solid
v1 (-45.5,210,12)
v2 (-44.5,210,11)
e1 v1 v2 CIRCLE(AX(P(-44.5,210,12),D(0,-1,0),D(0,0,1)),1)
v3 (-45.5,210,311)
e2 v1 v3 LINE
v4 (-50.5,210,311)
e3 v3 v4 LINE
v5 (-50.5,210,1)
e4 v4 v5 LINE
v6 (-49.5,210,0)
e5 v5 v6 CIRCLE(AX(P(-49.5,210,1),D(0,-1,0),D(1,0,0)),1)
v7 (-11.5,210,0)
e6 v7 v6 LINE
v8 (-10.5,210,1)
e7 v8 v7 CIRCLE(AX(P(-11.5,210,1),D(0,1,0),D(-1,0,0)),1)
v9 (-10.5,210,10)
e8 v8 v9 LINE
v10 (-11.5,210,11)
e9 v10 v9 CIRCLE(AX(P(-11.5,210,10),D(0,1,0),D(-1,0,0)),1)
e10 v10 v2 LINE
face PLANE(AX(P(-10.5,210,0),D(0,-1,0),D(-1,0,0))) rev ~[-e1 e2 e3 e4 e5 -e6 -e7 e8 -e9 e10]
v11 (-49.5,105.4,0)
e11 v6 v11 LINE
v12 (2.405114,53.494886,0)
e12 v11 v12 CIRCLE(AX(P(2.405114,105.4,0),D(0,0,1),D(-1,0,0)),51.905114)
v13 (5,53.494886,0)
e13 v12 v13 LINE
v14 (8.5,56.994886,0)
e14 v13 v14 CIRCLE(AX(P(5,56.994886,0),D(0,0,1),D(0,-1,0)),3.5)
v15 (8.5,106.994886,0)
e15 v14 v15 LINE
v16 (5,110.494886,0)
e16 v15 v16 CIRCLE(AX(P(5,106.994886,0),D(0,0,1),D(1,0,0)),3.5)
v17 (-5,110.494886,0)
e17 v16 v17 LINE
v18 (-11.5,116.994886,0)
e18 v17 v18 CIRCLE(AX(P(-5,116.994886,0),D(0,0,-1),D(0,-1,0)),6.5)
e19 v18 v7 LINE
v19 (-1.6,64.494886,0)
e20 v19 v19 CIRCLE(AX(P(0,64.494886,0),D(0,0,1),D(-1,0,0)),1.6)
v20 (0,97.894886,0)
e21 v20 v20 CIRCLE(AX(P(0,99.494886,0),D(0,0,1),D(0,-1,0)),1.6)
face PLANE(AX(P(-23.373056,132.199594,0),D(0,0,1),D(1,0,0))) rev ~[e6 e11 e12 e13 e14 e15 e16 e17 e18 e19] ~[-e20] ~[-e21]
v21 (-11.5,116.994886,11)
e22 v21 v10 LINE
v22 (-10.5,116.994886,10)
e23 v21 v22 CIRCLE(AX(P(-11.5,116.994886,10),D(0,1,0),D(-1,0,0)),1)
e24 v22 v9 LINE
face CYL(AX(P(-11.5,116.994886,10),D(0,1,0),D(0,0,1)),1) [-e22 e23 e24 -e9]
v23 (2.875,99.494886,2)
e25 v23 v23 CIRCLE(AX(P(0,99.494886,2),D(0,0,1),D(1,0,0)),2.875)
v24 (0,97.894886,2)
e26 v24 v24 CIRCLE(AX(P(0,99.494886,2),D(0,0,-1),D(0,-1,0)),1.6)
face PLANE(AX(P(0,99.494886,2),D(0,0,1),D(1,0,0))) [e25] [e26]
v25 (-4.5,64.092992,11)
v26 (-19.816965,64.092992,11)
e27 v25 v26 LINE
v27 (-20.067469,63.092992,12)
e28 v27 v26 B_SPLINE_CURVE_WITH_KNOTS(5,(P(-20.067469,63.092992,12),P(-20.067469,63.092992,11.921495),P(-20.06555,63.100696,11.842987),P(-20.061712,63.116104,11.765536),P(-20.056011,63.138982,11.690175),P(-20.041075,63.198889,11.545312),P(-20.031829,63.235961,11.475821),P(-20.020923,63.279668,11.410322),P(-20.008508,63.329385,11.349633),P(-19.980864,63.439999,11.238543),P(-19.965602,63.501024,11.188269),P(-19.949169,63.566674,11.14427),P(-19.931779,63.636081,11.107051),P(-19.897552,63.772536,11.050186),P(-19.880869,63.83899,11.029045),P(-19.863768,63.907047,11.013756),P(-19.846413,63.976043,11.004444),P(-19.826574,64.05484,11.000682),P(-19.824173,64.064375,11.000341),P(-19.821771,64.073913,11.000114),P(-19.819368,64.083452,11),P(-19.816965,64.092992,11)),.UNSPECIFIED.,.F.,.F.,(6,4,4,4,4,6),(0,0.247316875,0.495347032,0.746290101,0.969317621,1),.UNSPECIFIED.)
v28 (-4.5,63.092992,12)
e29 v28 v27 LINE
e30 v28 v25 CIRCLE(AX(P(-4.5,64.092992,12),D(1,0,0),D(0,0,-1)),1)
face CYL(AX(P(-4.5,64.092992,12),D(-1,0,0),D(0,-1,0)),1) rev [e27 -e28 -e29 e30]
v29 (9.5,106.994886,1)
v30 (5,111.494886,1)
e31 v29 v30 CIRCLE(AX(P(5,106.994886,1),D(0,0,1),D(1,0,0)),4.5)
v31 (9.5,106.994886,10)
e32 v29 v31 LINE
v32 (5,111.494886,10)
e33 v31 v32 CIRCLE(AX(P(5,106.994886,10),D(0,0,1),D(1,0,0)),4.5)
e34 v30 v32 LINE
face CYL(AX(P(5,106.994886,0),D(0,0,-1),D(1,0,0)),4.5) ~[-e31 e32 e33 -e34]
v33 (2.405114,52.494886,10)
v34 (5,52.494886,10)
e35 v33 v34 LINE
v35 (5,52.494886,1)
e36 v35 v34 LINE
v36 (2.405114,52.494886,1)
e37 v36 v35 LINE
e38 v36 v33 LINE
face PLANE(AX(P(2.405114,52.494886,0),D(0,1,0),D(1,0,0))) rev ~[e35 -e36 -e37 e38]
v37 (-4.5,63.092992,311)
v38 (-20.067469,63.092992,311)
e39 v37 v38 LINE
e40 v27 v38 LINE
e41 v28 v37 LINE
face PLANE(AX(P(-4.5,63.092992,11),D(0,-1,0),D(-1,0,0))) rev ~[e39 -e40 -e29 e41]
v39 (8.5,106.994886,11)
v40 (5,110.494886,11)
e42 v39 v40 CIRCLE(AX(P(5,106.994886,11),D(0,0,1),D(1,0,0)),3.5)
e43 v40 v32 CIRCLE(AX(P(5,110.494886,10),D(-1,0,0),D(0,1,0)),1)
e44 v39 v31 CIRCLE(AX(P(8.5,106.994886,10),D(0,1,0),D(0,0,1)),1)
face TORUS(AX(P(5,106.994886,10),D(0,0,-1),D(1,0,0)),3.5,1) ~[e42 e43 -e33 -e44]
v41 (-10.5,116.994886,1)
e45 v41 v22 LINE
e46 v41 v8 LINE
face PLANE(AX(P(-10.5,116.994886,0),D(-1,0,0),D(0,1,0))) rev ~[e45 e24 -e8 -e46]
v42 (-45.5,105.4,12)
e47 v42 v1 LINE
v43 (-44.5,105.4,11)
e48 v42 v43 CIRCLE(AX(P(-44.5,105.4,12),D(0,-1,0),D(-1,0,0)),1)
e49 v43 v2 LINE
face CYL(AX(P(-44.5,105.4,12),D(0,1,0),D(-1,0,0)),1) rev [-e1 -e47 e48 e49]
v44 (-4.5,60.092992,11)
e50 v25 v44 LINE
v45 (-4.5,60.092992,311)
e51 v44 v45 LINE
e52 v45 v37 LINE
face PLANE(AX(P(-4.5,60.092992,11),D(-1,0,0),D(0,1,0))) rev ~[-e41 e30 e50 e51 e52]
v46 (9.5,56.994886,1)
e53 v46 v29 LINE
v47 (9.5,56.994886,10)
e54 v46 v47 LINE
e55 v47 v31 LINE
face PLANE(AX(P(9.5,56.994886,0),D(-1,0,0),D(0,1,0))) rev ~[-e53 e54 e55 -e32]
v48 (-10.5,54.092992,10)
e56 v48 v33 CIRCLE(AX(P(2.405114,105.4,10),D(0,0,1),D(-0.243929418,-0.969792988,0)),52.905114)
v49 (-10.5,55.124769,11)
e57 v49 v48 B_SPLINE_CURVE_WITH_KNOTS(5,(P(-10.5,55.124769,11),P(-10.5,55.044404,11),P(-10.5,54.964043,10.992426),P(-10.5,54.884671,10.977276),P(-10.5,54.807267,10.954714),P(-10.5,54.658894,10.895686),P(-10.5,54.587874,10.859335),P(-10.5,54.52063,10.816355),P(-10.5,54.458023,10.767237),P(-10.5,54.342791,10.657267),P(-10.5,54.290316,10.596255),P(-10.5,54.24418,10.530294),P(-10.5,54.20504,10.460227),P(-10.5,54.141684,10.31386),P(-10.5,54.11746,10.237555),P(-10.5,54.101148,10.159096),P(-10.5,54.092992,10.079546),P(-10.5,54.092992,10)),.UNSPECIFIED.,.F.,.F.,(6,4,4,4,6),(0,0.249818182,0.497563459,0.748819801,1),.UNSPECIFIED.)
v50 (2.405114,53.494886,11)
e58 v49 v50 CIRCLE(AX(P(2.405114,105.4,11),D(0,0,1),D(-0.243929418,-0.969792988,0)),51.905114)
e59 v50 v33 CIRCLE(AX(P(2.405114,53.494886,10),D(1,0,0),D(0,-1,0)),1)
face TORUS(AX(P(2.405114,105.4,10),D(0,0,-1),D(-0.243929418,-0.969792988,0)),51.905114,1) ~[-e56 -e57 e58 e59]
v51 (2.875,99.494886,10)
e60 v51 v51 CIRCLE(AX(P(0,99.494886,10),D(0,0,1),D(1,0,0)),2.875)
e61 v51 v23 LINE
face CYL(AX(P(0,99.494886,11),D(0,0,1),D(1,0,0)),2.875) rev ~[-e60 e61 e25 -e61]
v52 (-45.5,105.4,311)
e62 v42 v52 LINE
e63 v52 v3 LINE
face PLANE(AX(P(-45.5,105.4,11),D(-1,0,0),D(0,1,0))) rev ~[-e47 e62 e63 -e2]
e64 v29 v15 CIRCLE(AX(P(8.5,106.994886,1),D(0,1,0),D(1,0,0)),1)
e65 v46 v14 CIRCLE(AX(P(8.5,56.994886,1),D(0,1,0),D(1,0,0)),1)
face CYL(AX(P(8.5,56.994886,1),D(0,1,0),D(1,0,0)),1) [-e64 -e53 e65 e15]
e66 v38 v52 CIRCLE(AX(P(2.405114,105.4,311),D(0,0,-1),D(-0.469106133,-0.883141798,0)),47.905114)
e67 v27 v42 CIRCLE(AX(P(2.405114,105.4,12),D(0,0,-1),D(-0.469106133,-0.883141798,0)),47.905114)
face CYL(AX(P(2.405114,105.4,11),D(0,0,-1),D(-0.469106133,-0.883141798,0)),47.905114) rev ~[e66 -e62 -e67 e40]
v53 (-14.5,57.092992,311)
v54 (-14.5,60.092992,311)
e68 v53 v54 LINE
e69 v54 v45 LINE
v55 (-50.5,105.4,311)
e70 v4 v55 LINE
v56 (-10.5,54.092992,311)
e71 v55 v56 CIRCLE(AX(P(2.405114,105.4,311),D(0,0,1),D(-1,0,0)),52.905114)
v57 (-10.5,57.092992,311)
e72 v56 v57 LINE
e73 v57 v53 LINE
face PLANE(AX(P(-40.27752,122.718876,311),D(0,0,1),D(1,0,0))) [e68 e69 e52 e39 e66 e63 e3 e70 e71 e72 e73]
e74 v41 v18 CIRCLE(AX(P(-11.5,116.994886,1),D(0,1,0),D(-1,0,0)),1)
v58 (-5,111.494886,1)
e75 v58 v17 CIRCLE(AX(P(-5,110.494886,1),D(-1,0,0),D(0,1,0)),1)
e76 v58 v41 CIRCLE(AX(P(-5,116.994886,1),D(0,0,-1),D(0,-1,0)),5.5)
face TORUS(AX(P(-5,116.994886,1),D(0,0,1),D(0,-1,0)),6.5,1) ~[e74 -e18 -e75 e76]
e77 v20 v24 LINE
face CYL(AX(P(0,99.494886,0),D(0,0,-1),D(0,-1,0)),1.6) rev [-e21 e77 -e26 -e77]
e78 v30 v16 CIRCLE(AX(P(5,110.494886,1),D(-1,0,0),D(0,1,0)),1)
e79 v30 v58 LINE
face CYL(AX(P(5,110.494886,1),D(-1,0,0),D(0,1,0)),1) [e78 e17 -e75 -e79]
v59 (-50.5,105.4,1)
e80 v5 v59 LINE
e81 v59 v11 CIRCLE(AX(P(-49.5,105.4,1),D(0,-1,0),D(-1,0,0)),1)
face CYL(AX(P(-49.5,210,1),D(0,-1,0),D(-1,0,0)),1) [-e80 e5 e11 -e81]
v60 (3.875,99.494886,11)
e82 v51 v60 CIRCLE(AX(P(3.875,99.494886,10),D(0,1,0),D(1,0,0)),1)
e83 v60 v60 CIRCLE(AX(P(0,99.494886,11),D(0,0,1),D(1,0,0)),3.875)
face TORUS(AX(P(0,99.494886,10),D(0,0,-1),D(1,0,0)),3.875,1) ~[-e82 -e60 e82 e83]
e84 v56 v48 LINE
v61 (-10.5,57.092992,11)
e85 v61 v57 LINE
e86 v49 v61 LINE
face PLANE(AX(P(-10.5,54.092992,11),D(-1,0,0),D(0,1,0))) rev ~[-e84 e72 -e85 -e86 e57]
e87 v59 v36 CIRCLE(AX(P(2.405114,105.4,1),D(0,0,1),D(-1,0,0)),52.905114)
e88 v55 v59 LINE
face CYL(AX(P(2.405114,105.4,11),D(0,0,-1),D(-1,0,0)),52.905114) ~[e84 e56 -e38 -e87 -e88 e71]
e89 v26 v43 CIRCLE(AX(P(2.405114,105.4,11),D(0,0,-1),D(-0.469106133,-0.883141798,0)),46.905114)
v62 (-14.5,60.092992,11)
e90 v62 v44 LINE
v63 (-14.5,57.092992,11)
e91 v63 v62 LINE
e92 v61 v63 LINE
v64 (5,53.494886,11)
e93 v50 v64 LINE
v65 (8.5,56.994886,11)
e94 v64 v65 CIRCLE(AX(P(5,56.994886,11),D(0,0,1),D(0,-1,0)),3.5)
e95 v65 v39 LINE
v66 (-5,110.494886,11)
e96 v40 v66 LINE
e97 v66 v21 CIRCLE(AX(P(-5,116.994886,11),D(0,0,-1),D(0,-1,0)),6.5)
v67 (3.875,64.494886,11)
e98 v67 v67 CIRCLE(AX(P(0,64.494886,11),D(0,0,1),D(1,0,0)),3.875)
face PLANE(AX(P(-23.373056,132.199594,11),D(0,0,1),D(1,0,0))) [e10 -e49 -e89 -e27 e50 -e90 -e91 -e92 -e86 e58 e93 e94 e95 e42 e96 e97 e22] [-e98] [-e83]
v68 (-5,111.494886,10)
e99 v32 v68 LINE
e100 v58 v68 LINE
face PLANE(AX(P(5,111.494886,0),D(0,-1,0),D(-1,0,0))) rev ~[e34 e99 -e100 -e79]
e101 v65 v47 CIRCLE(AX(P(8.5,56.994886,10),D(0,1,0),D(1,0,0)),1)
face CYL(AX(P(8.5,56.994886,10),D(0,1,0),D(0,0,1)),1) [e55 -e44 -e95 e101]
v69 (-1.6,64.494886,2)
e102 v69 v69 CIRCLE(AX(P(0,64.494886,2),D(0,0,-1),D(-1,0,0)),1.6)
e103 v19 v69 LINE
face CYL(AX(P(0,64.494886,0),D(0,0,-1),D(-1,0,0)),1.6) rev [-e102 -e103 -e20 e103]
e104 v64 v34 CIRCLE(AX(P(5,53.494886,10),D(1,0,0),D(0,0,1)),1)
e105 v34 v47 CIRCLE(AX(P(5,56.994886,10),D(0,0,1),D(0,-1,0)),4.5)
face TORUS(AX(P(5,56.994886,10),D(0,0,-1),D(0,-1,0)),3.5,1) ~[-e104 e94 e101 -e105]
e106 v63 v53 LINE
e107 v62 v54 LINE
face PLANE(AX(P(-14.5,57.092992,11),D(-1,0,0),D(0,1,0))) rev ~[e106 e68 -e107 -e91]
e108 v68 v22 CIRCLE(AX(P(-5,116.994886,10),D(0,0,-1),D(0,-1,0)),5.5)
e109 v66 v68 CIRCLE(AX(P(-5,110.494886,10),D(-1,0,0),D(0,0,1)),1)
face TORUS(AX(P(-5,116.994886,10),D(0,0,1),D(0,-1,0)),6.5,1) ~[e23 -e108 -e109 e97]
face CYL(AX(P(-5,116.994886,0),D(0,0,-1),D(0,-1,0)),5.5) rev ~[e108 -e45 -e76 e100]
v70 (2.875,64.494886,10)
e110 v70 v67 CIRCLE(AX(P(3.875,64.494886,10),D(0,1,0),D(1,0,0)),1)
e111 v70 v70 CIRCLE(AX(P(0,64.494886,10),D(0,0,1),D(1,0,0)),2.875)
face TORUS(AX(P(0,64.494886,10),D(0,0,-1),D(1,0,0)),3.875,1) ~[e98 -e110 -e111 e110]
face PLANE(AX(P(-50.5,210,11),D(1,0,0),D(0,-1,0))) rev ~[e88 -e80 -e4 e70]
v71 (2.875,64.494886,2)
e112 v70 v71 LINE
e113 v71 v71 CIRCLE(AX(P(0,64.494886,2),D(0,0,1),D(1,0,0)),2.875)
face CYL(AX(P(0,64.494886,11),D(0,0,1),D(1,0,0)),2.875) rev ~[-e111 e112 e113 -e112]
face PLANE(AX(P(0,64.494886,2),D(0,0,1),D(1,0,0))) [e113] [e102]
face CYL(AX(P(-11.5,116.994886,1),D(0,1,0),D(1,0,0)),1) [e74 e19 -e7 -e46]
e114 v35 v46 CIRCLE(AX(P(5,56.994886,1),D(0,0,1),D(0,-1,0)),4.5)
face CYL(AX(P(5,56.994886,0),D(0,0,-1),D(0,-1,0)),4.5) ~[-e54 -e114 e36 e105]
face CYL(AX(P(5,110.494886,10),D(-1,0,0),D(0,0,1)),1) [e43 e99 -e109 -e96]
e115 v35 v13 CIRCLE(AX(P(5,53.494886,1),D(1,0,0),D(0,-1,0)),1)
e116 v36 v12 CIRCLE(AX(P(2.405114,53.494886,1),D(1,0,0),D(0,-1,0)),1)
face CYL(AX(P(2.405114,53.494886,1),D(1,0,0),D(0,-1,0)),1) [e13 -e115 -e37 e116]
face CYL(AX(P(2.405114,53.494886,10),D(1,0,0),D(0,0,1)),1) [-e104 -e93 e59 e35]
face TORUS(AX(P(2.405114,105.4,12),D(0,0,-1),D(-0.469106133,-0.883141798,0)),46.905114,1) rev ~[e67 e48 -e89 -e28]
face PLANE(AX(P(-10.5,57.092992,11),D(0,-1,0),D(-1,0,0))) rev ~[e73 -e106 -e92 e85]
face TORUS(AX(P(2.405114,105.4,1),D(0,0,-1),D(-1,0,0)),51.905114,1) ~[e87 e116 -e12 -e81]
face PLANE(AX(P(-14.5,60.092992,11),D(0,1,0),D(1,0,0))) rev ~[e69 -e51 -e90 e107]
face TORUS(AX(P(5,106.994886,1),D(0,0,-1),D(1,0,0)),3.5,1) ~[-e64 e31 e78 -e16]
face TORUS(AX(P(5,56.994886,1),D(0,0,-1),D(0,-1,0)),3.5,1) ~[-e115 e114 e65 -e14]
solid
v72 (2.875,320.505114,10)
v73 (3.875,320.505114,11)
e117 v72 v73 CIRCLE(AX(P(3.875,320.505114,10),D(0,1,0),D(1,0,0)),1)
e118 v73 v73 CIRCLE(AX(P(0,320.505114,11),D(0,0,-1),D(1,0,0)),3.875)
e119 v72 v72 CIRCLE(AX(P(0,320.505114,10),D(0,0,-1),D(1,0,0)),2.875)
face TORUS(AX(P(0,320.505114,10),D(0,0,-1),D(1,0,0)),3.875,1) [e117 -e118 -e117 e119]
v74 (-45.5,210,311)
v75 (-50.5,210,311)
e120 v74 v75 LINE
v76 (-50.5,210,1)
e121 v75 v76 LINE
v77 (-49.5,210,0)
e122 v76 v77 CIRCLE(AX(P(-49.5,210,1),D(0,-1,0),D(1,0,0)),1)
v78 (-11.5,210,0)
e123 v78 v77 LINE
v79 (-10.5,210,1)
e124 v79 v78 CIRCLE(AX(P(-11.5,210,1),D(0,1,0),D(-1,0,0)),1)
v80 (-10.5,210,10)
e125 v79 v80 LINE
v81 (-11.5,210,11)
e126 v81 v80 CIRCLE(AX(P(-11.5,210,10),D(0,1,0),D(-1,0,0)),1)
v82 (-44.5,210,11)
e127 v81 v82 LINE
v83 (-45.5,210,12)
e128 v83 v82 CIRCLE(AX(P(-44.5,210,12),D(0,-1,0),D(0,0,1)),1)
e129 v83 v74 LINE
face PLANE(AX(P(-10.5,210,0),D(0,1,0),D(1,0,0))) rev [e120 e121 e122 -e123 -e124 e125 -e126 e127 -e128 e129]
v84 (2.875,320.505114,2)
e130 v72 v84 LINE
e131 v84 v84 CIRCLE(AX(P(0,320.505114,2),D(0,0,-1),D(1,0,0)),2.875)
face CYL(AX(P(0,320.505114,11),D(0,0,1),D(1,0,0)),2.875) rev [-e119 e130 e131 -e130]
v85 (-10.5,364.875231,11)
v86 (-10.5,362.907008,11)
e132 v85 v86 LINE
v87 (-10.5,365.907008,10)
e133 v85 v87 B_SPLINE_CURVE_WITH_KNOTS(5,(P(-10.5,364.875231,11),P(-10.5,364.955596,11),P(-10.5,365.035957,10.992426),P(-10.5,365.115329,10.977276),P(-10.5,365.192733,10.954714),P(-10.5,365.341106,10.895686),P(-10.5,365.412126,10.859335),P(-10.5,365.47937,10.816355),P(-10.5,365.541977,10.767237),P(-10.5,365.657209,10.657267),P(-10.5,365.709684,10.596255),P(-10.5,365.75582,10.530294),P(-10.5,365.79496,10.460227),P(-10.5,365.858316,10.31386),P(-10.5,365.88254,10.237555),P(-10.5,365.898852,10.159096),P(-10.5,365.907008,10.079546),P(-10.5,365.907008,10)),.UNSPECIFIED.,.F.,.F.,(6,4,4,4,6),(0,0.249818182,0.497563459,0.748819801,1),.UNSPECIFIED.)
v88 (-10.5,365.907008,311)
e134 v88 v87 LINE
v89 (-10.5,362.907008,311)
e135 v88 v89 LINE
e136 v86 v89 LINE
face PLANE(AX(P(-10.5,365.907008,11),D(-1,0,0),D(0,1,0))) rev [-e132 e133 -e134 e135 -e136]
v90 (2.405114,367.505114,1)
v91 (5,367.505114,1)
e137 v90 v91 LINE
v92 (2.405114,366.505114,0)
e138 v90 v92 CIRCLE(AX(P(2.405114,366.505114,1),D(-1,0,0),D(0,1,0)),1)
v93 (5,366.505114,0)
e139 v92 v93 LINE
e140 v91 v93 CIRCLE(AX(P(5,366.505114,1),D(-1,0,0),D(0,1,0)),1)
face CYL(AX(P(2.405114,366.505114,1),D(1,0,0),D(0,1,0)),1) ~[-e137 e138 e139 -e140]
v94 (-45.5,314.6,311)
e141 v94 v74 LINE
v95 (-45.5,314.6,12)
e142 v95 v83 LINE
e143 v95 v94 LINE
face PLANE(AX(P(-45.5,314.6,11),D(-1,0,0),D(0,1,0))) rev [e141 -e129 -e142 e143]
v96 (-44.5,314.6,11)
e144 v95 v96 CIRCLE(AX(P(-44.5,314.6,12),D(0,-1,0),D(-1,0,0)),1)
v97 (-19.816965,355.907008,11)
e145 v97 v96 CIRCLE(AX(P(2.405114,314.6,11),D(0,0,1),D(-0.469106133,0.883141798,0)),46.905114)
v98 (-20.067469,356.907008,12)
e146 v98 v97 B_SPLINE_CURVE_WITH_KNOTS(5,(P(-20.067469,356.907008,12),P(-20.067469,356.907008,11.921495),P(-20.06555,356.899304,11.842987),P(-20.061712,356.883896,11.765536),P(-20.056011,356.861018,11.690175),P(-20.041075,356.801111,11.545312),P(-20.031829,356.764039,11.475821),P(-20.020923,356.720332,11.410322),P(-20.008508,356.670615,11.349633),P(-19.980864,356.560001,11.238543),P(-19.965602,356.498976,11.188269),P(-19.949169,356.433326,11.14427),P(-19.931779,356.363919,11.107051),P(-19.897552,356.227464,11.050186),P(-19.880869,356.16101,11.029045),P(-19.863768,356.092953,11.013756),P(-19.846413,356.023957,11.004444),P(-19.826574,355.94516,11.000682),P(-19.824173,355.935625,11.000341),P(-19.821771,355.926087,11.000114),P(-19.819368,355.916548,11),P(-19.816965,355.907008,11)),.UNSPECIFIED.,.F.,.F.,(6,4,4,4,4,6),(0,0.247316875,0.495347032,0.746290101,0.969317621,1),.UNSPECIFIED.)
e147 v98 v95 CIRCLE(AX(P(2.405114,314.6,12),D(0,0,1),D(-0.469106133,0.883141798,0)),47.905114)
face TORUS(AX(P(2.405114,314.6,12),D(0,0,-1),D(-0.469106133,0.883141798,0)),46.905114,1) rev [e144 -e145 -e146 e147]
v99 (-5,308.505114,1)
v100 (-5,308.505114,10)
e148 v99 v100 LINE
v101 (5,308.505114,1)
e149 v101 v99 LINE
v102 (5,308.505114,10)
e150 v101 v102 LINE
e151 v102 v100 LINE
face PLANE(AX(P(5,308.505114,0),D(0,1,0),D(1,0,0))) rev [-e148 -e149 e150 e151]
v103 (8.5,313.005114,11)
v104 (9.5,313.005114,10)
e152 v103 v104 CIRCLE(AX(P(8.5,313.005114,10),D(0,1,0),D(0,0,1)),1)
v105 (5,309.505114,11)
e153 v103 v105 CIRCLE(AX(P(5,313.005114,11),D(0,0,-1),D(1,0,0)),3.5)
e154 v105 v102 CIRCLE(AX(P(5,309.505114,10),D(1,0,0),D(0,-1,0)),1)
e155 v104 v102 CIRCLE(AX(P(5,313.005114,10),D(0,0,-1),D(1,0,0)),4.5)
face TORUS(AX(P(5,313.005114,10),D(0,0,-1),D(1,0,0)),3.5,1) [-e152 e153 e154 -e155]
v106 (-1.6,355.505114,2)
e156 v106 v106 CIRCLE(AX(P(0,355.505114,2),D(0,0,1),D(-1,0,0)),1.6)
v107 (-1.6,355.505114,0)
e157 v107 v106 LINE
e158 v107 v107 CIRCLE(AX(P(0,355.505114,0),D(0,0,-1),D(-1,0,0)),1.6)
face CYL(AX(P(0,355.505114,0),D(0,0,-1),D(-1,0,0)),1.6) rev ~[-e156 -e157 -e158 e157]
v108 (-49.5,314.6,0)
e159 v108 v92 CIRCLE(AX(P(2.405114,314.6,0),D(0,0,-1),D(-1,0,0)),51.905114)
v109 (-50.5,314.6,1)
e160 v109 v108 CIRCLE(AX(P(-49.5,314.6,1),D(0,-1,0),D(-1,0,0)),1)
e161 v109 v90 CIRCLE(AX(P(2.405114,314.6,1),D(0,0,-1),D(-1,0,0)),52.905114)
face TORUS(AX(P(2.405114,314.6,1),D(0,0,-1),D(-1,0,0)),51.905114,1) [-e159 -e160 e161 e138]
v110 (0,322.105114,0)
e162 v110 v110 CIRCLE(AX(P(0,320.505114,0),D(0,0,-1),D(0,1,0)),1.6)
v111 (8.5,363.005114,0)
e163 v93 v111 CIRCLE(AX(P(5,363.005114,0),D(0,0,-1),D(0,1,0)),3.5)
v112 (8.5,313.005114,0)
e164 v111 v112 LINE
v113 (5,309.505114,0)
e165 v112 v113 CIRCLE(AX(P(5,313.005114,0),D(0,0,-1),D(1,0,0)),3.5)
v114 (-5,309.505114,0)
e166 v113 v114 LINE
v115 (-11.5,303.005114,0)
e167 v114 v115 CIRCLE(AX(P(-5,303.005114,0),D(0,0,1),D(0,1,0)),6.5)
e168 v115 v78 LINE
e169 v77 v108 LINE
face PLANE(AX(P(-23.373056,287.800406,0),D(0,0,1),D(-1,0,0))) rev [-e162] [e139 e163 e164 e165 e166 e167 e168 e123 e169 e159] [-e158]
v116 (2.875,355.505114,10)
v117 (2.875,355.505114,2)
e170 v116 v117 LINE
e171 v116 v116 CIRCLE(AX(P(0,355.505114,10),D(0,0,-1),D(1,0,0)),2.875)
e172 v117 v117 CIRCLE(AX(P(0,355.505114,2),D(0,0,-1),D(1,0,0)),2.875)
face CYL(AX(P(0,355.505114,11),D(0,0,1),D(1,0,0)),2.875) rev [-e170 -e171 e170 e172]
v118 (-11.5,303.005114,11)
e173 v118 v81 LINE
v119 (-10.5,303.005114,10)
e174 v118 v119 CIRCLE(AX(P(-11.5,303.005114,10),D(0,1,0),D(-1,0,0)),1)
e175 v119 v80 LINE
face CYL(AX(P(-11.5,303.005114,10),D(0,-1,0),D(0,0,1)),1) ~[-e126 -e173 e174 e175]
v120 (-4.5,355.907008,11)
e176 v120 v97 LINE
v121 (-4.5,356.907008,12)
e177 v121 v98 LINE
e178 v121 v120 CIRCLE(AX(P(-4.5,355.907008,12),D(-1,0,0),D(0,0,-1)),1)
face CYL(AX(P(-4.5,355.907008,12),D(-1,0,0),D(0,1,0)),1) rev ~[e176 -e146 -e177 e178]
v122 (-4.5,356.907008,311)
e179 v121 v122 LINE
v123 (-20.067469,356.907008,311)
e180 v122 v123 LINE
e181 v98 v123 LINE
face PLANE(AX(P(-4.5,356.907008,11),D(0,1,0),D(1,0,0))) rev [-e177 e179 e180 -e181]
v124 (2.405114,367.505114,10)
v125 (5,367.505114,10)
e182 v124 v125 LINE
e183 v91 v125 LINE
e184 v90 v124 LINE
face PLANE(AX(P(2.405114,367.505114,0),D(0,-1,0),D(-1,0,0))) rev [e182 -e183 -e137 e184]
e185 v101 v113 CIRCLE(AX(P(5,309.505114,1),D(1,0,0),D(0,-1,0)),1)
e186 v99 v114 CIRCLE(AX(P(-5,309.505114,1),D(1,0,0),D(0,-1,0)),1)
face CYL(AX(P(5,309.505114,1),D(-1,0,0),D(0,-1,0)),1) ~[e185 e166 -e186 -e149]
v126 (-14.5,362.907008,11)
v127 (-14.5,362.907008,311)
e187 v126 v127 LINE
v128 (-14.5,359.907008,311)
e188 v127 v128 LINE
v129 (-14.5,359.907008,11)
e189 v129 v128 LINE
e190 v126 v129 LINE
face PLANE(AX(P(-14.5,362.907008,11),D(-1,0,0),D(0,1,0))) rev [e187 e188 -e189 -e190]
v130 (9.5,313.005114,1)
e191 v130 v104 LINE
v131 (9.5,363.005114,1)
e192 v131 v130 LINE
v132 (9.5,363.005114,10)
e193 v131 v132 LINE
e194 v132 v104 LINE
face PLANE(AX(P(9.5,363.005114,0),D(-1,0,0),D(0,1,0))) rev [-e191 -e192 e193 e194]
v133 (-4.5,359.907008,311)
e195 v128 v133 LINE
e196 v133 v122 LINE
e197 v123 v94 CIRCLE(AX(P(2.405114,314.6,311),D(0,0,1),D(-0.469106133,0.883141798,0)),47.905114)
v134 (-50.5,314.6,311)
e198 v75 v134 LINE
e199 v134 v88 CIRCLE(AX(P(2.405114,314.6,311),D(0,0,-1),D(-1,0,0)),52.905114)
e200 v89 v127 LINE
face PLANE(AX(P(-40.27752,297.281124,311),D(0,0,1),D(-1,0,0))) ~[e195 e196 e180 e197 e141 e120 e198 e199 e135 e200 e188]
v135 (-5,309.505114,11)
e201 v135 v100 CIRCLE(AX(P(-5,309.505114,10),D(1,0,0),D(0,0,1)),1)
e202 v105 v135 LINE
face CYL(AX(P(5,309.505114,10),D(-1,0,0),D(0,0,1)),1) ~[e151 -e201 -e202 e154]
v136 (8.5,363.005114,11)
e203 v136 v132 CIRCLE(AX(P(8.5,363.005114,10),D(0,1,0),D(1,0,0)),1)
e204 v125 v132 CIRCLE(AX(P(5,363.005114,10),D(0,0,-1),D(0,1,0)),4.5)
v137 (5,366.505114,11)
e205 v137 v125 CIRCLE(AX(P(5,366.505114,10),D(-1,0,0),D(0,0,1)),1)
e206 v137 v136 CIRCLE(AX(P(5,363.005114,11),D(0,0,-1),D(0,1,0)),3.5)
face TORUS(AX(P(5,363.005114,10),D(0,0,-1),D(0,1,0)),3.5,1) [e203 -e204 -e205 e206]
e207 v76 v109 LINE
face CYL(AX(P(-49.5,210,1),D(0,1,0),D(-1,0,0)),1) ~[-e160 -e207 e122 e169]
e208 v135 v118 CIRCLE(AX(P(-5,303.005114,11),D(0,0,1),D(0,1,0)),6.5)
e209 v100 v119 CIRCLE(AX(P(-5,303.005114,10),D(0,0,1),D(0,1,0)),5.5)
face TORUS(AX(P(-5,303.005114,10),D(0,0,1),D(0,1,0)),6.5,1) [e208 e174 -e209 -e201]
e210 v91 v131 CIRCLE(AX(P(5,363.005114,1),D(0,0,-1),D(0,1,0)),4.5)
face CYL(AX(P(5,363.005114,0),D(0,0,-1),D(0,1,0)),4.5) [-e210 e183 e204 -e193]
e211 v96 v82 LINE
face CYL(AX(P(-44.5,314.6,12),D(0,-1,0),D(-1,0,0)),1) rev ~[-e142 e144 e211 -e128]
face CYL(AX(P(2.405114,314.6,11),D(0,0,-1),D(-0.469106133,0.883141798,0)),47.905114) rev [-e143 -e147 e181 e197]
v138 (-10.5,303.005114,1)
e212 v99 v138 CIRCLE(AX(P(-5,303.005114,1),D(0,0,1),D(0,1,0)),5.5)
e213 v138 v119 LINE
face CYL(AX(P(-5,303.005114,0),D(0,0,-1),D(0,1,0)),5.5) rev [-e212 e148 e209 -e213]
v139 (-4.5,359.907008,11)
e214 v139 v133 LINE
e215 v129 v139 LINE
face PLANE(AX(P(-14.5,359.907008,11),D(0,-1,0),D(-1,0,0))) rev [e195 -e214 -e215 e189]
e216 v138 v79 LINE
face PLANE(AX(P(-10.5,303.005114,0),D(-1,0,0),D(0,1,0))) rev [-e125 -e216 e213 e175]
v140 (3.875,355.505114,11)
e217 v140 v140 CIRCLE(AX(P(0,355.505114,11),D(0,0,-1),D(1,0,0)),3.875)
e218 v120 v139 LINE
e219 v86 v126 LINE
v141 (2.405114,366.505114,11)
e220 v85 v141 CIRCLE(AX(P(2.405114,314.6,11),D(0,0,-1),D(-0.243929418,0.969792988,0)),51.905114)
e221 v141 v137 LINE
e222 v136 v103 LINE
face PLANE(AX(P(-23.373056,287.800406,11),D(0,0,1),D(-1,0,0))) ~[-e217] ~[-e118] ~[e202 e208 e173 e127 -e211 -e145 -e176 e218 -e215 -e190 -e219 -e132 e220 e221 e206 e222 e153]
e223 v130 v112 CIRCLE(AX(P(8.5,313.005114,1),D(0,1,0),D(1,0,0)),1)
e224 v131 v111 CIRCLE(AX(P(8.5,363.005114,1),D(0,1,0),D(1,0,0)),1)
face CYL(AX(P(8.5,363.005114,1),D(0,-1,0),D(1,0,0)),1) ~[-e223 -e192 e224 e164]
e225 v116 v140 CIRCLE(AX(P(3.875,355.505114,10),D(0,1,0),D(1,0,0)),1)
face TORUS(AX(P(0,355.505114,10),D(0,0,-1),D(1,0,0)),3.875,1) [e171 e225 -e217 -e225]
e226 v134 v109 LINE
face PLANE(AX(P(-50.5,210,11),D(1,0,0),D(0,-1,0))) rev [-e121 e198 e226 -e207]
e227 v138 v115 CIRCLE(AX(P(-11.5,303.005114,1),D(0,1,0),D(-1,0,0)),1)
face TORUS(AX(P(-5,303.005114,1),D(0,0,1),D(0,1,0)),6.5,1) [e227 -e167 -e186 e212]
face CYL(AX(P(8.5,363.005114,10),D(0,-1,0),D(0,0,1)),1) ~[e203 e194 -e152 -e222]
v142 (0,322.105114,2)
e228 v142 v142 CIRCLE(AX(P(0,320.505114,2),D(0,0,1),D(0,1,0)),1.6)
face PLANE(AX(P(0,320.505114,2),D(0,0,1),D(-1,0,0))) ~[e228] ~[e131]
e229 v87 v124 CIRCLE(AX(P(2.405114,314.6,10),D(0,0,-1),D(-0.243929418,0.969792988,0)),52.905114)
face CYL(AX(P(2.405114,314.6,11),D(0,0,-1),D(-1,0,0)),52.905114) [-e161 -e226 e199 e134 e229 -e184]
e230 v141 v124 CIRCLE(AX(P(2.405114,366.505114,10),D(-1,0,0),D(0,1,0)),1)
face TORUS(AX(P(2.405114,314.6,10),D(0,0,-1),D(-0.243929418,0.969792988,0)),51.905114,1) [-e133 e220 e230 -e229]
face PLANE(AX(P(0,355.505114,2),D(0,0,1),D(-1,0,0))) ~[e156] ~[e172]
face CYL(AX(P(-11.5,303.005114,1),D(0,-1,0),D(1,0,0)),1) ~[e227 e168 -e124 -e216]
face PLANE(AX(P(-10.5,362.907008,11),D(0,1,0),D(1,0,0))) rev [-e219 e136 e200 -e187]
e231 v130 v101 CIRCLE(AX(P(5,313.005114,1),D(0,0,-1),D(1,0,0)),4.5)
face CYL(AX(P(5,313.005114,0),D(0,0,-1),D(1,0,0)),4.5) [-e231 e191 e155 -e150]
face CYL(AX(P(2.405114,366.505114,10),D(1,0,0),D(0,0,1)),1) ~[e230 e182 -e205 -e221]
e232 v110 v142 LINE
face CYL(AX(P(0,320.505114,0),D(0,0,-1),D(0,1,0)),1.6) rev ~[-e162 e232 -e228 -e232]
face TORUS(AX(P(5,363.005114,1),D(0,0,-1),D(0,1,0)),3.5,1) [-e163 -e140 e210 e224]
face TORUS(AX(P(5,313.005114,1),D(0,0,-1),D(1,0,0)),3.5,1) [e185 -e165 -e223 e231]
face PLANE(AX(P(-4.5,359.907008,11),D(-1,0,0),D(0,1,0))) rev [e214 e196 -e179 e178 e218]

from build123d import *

# Parameters (mm, degrees)
SKETCH2_R           = 1.600000000000004
BOSS_EXTRUDE1_DEPTH = 11
SKETCH3_R           = 2.875000000000001
CUT_EXTRUDE1_DEPTH  = 9
BOSS_EXTRUDE2_DEPTH = 300
FILLET1_R           = 1


with BuildPart() as part:
    # Sketch2 → Boss-Extrude1 (new body)
    with BuildSketch(Plane.XY):
        with BuildLine():
            Line((-10.500000000001744, 116.9948864065977), (-10.500000000001254, 210))
            Line((-10.500000000001254, 210), (-50.500000000001755, 210))
            Line((-50.500000000001755, 210), (-50.50000000000173, 105.39999999999998))
            ThreePointArc((-50.50000000000173, 105.39999999999998), (-35.004450987938846, 67.99043541866078), (2.4051135934003534, 52.494886406597914))
            Line((2.4051135934003534, 52.494886406597914), (5.00000000000717, 52.49488640659788))
            ThreePointArc((5.00000000000717, 52.49488640659788), (8.181980515346671, 53.81290589125848), (9.50000000000693, 56.99488640659804))
            Line((9.50000000000693, 56.99488640659804), (9.500000000005219, 106.99488640659803))
            ThreePointArc((9.500000000005219, 106.99488640659803), (8.181980515345092, 110.17686692193625), (5.000000000006808, 111.49488640659668))
            Line((5.000000000006808, 111.49488640659668), (-5.000000000001575, 111.4948864065978))
            ThreePointArc((-5.000000000001575, 111.4948864065978), (-8.889087296527661, 113.10579911007164), (-10.500000000001744, 116.9948864065977))
        make_face()
        with Locations(Location((-3.1572e-13, 99.49488640659804, 0), (0, 0, 270))):
            Circle(SKETCH2_R, mode=Mode.SUBTRACT)
        with Locations(Location((-3.1143e-13, 64.49488640659803, 0), (0, 0, 180))):
            Circle(SKETCH2_R, mode=Mode.SUBTRACT)
    extrude(amount=BOSS_EXTRUDE1_DEPTH)

    # Sketch3 → Cut-Extrude1 (cut)
    with BuildSketch(Plane.XY.offset(11.000000000000385)):
        with Locations((-3.1546e-13, 99.49488640659804)):
            Circle(SKETCH3_R)
        with Locations((-3.1117e-13, 64.49488640659803)):
            Circle(SKETCH3_R)
    extrude(amount=-CUT_EXTRUDE1_DEPTH, mode=Mode.SUBTRACT)

    # Sketch4 → Boss-Extrude2 (add)
    with BuildSketch(Plane.XY.offset(11.000000000000385)):
        with BuildLine():
            Line((-10.500000000000435, 54.09299182887195), (-10.500000000000435, 57.09299182887195))
            Line((-10.500000000000435, 57.09299182887195), (-14.500000000000437, 57.09299182887195))
            Line((-14.500000000000437, 57.09299182887195), (-14.500000000000437, 60.09299182887195))
            Line((-14.500000000000437, 60.09299182887195), (-4.500000000000436, 60.09299182887195))
            Line((-4.500000000000436, 60.09299182887195), (-4.500000000000436, 63.092991828871945))
            Line((-4.500000000000436, 63.092991828871945), (-20.067468990825734, 63.092991828871945))
            ThreePointArc((-20.067468990825734, 63.092991828871945), (-38.65247723844962, 80.71854656870569), (-45.500000000001755, 105.39999999999998))
            Line((-45.500000000001755, 105.39999999999998), (-45.500000000001755, 210))
            Line((-45.500000000001755, 210), (-50.500000000001755, 210))
            Line((-50.500000000001755, 210), (-50.50000000000173, 105.39999999999998))
            ThreePointArc((-50.50000000000173, 105.39999999999998), (-39.31836627660453, 72.87151599185606), (-10.500000000000435, 54.09299182887195))
        make_face()
    extrude(amount=BOSS_EXTRUDE2_DEPTH)

    # Fillet1
    fillet1_edges = [part.edges().sort_by_distance(p)[0] for p in [
        (-50.50000000000174, 157.7, 0),
        (-35.00445098793885, 67.99043541866078, 0),
        (3.702556796703762, 52.4948864065979, 0),
        (8.181980515346643, 53.81290589125845, 0),
        (-10.5000000000015, 163.49744320329884, 0),
        (-8.889087296527688, 113.10579911007167, 0),
        (2.61657e-12, 111.49488640659723, 0),
        (8.181980515345028, 110.17686692193632, 0),
        (-4.096730333503756, 52.89593282534239, 11),
        (3.702556796703762, 52.4948864065979, 11),
        (8.181980515346643, 53.81290589125845, 11),
        (-10.5000000000015, 163.49744320329884, 11),
        (-8.889087296527688, 113.10579911007167, 11),
        (2.61657e-12, 111.49488640659723, 11),
        (8.181980515345028, 110.17686692193632, 11),
        (9.500000000006075, 81.99488640659803, 0),
        (-2.8750000000003126, 64.49488640659803, 11.000000000000385),
        (-2.8750000000003166, 99.49488640659804, 11.000000000000385),
        (9.500000000006075, 81.99488640659803, 11),
        (-45.500000000001755, 157.7, 11.000000000000385),
        (-38.65247723844963, 80.71854656870568, 11.000000000000385),
        (-12.283734495413086, 63.092991828871945, 11.000000000000385),
    ]]
    fillet(fillet1_edges, radius=FILLET1_R)


with BuildPart() as body_2:
    # Mirror1: mirrored copy
    add(part.part.mirror(Plane(origin=(-50.500000000001755, 210, 179.5463165069818), x_dir=(0, 0, 1), z_dir=(0, -1, 0))))


solid = Compound([part.part, body_2.part])
